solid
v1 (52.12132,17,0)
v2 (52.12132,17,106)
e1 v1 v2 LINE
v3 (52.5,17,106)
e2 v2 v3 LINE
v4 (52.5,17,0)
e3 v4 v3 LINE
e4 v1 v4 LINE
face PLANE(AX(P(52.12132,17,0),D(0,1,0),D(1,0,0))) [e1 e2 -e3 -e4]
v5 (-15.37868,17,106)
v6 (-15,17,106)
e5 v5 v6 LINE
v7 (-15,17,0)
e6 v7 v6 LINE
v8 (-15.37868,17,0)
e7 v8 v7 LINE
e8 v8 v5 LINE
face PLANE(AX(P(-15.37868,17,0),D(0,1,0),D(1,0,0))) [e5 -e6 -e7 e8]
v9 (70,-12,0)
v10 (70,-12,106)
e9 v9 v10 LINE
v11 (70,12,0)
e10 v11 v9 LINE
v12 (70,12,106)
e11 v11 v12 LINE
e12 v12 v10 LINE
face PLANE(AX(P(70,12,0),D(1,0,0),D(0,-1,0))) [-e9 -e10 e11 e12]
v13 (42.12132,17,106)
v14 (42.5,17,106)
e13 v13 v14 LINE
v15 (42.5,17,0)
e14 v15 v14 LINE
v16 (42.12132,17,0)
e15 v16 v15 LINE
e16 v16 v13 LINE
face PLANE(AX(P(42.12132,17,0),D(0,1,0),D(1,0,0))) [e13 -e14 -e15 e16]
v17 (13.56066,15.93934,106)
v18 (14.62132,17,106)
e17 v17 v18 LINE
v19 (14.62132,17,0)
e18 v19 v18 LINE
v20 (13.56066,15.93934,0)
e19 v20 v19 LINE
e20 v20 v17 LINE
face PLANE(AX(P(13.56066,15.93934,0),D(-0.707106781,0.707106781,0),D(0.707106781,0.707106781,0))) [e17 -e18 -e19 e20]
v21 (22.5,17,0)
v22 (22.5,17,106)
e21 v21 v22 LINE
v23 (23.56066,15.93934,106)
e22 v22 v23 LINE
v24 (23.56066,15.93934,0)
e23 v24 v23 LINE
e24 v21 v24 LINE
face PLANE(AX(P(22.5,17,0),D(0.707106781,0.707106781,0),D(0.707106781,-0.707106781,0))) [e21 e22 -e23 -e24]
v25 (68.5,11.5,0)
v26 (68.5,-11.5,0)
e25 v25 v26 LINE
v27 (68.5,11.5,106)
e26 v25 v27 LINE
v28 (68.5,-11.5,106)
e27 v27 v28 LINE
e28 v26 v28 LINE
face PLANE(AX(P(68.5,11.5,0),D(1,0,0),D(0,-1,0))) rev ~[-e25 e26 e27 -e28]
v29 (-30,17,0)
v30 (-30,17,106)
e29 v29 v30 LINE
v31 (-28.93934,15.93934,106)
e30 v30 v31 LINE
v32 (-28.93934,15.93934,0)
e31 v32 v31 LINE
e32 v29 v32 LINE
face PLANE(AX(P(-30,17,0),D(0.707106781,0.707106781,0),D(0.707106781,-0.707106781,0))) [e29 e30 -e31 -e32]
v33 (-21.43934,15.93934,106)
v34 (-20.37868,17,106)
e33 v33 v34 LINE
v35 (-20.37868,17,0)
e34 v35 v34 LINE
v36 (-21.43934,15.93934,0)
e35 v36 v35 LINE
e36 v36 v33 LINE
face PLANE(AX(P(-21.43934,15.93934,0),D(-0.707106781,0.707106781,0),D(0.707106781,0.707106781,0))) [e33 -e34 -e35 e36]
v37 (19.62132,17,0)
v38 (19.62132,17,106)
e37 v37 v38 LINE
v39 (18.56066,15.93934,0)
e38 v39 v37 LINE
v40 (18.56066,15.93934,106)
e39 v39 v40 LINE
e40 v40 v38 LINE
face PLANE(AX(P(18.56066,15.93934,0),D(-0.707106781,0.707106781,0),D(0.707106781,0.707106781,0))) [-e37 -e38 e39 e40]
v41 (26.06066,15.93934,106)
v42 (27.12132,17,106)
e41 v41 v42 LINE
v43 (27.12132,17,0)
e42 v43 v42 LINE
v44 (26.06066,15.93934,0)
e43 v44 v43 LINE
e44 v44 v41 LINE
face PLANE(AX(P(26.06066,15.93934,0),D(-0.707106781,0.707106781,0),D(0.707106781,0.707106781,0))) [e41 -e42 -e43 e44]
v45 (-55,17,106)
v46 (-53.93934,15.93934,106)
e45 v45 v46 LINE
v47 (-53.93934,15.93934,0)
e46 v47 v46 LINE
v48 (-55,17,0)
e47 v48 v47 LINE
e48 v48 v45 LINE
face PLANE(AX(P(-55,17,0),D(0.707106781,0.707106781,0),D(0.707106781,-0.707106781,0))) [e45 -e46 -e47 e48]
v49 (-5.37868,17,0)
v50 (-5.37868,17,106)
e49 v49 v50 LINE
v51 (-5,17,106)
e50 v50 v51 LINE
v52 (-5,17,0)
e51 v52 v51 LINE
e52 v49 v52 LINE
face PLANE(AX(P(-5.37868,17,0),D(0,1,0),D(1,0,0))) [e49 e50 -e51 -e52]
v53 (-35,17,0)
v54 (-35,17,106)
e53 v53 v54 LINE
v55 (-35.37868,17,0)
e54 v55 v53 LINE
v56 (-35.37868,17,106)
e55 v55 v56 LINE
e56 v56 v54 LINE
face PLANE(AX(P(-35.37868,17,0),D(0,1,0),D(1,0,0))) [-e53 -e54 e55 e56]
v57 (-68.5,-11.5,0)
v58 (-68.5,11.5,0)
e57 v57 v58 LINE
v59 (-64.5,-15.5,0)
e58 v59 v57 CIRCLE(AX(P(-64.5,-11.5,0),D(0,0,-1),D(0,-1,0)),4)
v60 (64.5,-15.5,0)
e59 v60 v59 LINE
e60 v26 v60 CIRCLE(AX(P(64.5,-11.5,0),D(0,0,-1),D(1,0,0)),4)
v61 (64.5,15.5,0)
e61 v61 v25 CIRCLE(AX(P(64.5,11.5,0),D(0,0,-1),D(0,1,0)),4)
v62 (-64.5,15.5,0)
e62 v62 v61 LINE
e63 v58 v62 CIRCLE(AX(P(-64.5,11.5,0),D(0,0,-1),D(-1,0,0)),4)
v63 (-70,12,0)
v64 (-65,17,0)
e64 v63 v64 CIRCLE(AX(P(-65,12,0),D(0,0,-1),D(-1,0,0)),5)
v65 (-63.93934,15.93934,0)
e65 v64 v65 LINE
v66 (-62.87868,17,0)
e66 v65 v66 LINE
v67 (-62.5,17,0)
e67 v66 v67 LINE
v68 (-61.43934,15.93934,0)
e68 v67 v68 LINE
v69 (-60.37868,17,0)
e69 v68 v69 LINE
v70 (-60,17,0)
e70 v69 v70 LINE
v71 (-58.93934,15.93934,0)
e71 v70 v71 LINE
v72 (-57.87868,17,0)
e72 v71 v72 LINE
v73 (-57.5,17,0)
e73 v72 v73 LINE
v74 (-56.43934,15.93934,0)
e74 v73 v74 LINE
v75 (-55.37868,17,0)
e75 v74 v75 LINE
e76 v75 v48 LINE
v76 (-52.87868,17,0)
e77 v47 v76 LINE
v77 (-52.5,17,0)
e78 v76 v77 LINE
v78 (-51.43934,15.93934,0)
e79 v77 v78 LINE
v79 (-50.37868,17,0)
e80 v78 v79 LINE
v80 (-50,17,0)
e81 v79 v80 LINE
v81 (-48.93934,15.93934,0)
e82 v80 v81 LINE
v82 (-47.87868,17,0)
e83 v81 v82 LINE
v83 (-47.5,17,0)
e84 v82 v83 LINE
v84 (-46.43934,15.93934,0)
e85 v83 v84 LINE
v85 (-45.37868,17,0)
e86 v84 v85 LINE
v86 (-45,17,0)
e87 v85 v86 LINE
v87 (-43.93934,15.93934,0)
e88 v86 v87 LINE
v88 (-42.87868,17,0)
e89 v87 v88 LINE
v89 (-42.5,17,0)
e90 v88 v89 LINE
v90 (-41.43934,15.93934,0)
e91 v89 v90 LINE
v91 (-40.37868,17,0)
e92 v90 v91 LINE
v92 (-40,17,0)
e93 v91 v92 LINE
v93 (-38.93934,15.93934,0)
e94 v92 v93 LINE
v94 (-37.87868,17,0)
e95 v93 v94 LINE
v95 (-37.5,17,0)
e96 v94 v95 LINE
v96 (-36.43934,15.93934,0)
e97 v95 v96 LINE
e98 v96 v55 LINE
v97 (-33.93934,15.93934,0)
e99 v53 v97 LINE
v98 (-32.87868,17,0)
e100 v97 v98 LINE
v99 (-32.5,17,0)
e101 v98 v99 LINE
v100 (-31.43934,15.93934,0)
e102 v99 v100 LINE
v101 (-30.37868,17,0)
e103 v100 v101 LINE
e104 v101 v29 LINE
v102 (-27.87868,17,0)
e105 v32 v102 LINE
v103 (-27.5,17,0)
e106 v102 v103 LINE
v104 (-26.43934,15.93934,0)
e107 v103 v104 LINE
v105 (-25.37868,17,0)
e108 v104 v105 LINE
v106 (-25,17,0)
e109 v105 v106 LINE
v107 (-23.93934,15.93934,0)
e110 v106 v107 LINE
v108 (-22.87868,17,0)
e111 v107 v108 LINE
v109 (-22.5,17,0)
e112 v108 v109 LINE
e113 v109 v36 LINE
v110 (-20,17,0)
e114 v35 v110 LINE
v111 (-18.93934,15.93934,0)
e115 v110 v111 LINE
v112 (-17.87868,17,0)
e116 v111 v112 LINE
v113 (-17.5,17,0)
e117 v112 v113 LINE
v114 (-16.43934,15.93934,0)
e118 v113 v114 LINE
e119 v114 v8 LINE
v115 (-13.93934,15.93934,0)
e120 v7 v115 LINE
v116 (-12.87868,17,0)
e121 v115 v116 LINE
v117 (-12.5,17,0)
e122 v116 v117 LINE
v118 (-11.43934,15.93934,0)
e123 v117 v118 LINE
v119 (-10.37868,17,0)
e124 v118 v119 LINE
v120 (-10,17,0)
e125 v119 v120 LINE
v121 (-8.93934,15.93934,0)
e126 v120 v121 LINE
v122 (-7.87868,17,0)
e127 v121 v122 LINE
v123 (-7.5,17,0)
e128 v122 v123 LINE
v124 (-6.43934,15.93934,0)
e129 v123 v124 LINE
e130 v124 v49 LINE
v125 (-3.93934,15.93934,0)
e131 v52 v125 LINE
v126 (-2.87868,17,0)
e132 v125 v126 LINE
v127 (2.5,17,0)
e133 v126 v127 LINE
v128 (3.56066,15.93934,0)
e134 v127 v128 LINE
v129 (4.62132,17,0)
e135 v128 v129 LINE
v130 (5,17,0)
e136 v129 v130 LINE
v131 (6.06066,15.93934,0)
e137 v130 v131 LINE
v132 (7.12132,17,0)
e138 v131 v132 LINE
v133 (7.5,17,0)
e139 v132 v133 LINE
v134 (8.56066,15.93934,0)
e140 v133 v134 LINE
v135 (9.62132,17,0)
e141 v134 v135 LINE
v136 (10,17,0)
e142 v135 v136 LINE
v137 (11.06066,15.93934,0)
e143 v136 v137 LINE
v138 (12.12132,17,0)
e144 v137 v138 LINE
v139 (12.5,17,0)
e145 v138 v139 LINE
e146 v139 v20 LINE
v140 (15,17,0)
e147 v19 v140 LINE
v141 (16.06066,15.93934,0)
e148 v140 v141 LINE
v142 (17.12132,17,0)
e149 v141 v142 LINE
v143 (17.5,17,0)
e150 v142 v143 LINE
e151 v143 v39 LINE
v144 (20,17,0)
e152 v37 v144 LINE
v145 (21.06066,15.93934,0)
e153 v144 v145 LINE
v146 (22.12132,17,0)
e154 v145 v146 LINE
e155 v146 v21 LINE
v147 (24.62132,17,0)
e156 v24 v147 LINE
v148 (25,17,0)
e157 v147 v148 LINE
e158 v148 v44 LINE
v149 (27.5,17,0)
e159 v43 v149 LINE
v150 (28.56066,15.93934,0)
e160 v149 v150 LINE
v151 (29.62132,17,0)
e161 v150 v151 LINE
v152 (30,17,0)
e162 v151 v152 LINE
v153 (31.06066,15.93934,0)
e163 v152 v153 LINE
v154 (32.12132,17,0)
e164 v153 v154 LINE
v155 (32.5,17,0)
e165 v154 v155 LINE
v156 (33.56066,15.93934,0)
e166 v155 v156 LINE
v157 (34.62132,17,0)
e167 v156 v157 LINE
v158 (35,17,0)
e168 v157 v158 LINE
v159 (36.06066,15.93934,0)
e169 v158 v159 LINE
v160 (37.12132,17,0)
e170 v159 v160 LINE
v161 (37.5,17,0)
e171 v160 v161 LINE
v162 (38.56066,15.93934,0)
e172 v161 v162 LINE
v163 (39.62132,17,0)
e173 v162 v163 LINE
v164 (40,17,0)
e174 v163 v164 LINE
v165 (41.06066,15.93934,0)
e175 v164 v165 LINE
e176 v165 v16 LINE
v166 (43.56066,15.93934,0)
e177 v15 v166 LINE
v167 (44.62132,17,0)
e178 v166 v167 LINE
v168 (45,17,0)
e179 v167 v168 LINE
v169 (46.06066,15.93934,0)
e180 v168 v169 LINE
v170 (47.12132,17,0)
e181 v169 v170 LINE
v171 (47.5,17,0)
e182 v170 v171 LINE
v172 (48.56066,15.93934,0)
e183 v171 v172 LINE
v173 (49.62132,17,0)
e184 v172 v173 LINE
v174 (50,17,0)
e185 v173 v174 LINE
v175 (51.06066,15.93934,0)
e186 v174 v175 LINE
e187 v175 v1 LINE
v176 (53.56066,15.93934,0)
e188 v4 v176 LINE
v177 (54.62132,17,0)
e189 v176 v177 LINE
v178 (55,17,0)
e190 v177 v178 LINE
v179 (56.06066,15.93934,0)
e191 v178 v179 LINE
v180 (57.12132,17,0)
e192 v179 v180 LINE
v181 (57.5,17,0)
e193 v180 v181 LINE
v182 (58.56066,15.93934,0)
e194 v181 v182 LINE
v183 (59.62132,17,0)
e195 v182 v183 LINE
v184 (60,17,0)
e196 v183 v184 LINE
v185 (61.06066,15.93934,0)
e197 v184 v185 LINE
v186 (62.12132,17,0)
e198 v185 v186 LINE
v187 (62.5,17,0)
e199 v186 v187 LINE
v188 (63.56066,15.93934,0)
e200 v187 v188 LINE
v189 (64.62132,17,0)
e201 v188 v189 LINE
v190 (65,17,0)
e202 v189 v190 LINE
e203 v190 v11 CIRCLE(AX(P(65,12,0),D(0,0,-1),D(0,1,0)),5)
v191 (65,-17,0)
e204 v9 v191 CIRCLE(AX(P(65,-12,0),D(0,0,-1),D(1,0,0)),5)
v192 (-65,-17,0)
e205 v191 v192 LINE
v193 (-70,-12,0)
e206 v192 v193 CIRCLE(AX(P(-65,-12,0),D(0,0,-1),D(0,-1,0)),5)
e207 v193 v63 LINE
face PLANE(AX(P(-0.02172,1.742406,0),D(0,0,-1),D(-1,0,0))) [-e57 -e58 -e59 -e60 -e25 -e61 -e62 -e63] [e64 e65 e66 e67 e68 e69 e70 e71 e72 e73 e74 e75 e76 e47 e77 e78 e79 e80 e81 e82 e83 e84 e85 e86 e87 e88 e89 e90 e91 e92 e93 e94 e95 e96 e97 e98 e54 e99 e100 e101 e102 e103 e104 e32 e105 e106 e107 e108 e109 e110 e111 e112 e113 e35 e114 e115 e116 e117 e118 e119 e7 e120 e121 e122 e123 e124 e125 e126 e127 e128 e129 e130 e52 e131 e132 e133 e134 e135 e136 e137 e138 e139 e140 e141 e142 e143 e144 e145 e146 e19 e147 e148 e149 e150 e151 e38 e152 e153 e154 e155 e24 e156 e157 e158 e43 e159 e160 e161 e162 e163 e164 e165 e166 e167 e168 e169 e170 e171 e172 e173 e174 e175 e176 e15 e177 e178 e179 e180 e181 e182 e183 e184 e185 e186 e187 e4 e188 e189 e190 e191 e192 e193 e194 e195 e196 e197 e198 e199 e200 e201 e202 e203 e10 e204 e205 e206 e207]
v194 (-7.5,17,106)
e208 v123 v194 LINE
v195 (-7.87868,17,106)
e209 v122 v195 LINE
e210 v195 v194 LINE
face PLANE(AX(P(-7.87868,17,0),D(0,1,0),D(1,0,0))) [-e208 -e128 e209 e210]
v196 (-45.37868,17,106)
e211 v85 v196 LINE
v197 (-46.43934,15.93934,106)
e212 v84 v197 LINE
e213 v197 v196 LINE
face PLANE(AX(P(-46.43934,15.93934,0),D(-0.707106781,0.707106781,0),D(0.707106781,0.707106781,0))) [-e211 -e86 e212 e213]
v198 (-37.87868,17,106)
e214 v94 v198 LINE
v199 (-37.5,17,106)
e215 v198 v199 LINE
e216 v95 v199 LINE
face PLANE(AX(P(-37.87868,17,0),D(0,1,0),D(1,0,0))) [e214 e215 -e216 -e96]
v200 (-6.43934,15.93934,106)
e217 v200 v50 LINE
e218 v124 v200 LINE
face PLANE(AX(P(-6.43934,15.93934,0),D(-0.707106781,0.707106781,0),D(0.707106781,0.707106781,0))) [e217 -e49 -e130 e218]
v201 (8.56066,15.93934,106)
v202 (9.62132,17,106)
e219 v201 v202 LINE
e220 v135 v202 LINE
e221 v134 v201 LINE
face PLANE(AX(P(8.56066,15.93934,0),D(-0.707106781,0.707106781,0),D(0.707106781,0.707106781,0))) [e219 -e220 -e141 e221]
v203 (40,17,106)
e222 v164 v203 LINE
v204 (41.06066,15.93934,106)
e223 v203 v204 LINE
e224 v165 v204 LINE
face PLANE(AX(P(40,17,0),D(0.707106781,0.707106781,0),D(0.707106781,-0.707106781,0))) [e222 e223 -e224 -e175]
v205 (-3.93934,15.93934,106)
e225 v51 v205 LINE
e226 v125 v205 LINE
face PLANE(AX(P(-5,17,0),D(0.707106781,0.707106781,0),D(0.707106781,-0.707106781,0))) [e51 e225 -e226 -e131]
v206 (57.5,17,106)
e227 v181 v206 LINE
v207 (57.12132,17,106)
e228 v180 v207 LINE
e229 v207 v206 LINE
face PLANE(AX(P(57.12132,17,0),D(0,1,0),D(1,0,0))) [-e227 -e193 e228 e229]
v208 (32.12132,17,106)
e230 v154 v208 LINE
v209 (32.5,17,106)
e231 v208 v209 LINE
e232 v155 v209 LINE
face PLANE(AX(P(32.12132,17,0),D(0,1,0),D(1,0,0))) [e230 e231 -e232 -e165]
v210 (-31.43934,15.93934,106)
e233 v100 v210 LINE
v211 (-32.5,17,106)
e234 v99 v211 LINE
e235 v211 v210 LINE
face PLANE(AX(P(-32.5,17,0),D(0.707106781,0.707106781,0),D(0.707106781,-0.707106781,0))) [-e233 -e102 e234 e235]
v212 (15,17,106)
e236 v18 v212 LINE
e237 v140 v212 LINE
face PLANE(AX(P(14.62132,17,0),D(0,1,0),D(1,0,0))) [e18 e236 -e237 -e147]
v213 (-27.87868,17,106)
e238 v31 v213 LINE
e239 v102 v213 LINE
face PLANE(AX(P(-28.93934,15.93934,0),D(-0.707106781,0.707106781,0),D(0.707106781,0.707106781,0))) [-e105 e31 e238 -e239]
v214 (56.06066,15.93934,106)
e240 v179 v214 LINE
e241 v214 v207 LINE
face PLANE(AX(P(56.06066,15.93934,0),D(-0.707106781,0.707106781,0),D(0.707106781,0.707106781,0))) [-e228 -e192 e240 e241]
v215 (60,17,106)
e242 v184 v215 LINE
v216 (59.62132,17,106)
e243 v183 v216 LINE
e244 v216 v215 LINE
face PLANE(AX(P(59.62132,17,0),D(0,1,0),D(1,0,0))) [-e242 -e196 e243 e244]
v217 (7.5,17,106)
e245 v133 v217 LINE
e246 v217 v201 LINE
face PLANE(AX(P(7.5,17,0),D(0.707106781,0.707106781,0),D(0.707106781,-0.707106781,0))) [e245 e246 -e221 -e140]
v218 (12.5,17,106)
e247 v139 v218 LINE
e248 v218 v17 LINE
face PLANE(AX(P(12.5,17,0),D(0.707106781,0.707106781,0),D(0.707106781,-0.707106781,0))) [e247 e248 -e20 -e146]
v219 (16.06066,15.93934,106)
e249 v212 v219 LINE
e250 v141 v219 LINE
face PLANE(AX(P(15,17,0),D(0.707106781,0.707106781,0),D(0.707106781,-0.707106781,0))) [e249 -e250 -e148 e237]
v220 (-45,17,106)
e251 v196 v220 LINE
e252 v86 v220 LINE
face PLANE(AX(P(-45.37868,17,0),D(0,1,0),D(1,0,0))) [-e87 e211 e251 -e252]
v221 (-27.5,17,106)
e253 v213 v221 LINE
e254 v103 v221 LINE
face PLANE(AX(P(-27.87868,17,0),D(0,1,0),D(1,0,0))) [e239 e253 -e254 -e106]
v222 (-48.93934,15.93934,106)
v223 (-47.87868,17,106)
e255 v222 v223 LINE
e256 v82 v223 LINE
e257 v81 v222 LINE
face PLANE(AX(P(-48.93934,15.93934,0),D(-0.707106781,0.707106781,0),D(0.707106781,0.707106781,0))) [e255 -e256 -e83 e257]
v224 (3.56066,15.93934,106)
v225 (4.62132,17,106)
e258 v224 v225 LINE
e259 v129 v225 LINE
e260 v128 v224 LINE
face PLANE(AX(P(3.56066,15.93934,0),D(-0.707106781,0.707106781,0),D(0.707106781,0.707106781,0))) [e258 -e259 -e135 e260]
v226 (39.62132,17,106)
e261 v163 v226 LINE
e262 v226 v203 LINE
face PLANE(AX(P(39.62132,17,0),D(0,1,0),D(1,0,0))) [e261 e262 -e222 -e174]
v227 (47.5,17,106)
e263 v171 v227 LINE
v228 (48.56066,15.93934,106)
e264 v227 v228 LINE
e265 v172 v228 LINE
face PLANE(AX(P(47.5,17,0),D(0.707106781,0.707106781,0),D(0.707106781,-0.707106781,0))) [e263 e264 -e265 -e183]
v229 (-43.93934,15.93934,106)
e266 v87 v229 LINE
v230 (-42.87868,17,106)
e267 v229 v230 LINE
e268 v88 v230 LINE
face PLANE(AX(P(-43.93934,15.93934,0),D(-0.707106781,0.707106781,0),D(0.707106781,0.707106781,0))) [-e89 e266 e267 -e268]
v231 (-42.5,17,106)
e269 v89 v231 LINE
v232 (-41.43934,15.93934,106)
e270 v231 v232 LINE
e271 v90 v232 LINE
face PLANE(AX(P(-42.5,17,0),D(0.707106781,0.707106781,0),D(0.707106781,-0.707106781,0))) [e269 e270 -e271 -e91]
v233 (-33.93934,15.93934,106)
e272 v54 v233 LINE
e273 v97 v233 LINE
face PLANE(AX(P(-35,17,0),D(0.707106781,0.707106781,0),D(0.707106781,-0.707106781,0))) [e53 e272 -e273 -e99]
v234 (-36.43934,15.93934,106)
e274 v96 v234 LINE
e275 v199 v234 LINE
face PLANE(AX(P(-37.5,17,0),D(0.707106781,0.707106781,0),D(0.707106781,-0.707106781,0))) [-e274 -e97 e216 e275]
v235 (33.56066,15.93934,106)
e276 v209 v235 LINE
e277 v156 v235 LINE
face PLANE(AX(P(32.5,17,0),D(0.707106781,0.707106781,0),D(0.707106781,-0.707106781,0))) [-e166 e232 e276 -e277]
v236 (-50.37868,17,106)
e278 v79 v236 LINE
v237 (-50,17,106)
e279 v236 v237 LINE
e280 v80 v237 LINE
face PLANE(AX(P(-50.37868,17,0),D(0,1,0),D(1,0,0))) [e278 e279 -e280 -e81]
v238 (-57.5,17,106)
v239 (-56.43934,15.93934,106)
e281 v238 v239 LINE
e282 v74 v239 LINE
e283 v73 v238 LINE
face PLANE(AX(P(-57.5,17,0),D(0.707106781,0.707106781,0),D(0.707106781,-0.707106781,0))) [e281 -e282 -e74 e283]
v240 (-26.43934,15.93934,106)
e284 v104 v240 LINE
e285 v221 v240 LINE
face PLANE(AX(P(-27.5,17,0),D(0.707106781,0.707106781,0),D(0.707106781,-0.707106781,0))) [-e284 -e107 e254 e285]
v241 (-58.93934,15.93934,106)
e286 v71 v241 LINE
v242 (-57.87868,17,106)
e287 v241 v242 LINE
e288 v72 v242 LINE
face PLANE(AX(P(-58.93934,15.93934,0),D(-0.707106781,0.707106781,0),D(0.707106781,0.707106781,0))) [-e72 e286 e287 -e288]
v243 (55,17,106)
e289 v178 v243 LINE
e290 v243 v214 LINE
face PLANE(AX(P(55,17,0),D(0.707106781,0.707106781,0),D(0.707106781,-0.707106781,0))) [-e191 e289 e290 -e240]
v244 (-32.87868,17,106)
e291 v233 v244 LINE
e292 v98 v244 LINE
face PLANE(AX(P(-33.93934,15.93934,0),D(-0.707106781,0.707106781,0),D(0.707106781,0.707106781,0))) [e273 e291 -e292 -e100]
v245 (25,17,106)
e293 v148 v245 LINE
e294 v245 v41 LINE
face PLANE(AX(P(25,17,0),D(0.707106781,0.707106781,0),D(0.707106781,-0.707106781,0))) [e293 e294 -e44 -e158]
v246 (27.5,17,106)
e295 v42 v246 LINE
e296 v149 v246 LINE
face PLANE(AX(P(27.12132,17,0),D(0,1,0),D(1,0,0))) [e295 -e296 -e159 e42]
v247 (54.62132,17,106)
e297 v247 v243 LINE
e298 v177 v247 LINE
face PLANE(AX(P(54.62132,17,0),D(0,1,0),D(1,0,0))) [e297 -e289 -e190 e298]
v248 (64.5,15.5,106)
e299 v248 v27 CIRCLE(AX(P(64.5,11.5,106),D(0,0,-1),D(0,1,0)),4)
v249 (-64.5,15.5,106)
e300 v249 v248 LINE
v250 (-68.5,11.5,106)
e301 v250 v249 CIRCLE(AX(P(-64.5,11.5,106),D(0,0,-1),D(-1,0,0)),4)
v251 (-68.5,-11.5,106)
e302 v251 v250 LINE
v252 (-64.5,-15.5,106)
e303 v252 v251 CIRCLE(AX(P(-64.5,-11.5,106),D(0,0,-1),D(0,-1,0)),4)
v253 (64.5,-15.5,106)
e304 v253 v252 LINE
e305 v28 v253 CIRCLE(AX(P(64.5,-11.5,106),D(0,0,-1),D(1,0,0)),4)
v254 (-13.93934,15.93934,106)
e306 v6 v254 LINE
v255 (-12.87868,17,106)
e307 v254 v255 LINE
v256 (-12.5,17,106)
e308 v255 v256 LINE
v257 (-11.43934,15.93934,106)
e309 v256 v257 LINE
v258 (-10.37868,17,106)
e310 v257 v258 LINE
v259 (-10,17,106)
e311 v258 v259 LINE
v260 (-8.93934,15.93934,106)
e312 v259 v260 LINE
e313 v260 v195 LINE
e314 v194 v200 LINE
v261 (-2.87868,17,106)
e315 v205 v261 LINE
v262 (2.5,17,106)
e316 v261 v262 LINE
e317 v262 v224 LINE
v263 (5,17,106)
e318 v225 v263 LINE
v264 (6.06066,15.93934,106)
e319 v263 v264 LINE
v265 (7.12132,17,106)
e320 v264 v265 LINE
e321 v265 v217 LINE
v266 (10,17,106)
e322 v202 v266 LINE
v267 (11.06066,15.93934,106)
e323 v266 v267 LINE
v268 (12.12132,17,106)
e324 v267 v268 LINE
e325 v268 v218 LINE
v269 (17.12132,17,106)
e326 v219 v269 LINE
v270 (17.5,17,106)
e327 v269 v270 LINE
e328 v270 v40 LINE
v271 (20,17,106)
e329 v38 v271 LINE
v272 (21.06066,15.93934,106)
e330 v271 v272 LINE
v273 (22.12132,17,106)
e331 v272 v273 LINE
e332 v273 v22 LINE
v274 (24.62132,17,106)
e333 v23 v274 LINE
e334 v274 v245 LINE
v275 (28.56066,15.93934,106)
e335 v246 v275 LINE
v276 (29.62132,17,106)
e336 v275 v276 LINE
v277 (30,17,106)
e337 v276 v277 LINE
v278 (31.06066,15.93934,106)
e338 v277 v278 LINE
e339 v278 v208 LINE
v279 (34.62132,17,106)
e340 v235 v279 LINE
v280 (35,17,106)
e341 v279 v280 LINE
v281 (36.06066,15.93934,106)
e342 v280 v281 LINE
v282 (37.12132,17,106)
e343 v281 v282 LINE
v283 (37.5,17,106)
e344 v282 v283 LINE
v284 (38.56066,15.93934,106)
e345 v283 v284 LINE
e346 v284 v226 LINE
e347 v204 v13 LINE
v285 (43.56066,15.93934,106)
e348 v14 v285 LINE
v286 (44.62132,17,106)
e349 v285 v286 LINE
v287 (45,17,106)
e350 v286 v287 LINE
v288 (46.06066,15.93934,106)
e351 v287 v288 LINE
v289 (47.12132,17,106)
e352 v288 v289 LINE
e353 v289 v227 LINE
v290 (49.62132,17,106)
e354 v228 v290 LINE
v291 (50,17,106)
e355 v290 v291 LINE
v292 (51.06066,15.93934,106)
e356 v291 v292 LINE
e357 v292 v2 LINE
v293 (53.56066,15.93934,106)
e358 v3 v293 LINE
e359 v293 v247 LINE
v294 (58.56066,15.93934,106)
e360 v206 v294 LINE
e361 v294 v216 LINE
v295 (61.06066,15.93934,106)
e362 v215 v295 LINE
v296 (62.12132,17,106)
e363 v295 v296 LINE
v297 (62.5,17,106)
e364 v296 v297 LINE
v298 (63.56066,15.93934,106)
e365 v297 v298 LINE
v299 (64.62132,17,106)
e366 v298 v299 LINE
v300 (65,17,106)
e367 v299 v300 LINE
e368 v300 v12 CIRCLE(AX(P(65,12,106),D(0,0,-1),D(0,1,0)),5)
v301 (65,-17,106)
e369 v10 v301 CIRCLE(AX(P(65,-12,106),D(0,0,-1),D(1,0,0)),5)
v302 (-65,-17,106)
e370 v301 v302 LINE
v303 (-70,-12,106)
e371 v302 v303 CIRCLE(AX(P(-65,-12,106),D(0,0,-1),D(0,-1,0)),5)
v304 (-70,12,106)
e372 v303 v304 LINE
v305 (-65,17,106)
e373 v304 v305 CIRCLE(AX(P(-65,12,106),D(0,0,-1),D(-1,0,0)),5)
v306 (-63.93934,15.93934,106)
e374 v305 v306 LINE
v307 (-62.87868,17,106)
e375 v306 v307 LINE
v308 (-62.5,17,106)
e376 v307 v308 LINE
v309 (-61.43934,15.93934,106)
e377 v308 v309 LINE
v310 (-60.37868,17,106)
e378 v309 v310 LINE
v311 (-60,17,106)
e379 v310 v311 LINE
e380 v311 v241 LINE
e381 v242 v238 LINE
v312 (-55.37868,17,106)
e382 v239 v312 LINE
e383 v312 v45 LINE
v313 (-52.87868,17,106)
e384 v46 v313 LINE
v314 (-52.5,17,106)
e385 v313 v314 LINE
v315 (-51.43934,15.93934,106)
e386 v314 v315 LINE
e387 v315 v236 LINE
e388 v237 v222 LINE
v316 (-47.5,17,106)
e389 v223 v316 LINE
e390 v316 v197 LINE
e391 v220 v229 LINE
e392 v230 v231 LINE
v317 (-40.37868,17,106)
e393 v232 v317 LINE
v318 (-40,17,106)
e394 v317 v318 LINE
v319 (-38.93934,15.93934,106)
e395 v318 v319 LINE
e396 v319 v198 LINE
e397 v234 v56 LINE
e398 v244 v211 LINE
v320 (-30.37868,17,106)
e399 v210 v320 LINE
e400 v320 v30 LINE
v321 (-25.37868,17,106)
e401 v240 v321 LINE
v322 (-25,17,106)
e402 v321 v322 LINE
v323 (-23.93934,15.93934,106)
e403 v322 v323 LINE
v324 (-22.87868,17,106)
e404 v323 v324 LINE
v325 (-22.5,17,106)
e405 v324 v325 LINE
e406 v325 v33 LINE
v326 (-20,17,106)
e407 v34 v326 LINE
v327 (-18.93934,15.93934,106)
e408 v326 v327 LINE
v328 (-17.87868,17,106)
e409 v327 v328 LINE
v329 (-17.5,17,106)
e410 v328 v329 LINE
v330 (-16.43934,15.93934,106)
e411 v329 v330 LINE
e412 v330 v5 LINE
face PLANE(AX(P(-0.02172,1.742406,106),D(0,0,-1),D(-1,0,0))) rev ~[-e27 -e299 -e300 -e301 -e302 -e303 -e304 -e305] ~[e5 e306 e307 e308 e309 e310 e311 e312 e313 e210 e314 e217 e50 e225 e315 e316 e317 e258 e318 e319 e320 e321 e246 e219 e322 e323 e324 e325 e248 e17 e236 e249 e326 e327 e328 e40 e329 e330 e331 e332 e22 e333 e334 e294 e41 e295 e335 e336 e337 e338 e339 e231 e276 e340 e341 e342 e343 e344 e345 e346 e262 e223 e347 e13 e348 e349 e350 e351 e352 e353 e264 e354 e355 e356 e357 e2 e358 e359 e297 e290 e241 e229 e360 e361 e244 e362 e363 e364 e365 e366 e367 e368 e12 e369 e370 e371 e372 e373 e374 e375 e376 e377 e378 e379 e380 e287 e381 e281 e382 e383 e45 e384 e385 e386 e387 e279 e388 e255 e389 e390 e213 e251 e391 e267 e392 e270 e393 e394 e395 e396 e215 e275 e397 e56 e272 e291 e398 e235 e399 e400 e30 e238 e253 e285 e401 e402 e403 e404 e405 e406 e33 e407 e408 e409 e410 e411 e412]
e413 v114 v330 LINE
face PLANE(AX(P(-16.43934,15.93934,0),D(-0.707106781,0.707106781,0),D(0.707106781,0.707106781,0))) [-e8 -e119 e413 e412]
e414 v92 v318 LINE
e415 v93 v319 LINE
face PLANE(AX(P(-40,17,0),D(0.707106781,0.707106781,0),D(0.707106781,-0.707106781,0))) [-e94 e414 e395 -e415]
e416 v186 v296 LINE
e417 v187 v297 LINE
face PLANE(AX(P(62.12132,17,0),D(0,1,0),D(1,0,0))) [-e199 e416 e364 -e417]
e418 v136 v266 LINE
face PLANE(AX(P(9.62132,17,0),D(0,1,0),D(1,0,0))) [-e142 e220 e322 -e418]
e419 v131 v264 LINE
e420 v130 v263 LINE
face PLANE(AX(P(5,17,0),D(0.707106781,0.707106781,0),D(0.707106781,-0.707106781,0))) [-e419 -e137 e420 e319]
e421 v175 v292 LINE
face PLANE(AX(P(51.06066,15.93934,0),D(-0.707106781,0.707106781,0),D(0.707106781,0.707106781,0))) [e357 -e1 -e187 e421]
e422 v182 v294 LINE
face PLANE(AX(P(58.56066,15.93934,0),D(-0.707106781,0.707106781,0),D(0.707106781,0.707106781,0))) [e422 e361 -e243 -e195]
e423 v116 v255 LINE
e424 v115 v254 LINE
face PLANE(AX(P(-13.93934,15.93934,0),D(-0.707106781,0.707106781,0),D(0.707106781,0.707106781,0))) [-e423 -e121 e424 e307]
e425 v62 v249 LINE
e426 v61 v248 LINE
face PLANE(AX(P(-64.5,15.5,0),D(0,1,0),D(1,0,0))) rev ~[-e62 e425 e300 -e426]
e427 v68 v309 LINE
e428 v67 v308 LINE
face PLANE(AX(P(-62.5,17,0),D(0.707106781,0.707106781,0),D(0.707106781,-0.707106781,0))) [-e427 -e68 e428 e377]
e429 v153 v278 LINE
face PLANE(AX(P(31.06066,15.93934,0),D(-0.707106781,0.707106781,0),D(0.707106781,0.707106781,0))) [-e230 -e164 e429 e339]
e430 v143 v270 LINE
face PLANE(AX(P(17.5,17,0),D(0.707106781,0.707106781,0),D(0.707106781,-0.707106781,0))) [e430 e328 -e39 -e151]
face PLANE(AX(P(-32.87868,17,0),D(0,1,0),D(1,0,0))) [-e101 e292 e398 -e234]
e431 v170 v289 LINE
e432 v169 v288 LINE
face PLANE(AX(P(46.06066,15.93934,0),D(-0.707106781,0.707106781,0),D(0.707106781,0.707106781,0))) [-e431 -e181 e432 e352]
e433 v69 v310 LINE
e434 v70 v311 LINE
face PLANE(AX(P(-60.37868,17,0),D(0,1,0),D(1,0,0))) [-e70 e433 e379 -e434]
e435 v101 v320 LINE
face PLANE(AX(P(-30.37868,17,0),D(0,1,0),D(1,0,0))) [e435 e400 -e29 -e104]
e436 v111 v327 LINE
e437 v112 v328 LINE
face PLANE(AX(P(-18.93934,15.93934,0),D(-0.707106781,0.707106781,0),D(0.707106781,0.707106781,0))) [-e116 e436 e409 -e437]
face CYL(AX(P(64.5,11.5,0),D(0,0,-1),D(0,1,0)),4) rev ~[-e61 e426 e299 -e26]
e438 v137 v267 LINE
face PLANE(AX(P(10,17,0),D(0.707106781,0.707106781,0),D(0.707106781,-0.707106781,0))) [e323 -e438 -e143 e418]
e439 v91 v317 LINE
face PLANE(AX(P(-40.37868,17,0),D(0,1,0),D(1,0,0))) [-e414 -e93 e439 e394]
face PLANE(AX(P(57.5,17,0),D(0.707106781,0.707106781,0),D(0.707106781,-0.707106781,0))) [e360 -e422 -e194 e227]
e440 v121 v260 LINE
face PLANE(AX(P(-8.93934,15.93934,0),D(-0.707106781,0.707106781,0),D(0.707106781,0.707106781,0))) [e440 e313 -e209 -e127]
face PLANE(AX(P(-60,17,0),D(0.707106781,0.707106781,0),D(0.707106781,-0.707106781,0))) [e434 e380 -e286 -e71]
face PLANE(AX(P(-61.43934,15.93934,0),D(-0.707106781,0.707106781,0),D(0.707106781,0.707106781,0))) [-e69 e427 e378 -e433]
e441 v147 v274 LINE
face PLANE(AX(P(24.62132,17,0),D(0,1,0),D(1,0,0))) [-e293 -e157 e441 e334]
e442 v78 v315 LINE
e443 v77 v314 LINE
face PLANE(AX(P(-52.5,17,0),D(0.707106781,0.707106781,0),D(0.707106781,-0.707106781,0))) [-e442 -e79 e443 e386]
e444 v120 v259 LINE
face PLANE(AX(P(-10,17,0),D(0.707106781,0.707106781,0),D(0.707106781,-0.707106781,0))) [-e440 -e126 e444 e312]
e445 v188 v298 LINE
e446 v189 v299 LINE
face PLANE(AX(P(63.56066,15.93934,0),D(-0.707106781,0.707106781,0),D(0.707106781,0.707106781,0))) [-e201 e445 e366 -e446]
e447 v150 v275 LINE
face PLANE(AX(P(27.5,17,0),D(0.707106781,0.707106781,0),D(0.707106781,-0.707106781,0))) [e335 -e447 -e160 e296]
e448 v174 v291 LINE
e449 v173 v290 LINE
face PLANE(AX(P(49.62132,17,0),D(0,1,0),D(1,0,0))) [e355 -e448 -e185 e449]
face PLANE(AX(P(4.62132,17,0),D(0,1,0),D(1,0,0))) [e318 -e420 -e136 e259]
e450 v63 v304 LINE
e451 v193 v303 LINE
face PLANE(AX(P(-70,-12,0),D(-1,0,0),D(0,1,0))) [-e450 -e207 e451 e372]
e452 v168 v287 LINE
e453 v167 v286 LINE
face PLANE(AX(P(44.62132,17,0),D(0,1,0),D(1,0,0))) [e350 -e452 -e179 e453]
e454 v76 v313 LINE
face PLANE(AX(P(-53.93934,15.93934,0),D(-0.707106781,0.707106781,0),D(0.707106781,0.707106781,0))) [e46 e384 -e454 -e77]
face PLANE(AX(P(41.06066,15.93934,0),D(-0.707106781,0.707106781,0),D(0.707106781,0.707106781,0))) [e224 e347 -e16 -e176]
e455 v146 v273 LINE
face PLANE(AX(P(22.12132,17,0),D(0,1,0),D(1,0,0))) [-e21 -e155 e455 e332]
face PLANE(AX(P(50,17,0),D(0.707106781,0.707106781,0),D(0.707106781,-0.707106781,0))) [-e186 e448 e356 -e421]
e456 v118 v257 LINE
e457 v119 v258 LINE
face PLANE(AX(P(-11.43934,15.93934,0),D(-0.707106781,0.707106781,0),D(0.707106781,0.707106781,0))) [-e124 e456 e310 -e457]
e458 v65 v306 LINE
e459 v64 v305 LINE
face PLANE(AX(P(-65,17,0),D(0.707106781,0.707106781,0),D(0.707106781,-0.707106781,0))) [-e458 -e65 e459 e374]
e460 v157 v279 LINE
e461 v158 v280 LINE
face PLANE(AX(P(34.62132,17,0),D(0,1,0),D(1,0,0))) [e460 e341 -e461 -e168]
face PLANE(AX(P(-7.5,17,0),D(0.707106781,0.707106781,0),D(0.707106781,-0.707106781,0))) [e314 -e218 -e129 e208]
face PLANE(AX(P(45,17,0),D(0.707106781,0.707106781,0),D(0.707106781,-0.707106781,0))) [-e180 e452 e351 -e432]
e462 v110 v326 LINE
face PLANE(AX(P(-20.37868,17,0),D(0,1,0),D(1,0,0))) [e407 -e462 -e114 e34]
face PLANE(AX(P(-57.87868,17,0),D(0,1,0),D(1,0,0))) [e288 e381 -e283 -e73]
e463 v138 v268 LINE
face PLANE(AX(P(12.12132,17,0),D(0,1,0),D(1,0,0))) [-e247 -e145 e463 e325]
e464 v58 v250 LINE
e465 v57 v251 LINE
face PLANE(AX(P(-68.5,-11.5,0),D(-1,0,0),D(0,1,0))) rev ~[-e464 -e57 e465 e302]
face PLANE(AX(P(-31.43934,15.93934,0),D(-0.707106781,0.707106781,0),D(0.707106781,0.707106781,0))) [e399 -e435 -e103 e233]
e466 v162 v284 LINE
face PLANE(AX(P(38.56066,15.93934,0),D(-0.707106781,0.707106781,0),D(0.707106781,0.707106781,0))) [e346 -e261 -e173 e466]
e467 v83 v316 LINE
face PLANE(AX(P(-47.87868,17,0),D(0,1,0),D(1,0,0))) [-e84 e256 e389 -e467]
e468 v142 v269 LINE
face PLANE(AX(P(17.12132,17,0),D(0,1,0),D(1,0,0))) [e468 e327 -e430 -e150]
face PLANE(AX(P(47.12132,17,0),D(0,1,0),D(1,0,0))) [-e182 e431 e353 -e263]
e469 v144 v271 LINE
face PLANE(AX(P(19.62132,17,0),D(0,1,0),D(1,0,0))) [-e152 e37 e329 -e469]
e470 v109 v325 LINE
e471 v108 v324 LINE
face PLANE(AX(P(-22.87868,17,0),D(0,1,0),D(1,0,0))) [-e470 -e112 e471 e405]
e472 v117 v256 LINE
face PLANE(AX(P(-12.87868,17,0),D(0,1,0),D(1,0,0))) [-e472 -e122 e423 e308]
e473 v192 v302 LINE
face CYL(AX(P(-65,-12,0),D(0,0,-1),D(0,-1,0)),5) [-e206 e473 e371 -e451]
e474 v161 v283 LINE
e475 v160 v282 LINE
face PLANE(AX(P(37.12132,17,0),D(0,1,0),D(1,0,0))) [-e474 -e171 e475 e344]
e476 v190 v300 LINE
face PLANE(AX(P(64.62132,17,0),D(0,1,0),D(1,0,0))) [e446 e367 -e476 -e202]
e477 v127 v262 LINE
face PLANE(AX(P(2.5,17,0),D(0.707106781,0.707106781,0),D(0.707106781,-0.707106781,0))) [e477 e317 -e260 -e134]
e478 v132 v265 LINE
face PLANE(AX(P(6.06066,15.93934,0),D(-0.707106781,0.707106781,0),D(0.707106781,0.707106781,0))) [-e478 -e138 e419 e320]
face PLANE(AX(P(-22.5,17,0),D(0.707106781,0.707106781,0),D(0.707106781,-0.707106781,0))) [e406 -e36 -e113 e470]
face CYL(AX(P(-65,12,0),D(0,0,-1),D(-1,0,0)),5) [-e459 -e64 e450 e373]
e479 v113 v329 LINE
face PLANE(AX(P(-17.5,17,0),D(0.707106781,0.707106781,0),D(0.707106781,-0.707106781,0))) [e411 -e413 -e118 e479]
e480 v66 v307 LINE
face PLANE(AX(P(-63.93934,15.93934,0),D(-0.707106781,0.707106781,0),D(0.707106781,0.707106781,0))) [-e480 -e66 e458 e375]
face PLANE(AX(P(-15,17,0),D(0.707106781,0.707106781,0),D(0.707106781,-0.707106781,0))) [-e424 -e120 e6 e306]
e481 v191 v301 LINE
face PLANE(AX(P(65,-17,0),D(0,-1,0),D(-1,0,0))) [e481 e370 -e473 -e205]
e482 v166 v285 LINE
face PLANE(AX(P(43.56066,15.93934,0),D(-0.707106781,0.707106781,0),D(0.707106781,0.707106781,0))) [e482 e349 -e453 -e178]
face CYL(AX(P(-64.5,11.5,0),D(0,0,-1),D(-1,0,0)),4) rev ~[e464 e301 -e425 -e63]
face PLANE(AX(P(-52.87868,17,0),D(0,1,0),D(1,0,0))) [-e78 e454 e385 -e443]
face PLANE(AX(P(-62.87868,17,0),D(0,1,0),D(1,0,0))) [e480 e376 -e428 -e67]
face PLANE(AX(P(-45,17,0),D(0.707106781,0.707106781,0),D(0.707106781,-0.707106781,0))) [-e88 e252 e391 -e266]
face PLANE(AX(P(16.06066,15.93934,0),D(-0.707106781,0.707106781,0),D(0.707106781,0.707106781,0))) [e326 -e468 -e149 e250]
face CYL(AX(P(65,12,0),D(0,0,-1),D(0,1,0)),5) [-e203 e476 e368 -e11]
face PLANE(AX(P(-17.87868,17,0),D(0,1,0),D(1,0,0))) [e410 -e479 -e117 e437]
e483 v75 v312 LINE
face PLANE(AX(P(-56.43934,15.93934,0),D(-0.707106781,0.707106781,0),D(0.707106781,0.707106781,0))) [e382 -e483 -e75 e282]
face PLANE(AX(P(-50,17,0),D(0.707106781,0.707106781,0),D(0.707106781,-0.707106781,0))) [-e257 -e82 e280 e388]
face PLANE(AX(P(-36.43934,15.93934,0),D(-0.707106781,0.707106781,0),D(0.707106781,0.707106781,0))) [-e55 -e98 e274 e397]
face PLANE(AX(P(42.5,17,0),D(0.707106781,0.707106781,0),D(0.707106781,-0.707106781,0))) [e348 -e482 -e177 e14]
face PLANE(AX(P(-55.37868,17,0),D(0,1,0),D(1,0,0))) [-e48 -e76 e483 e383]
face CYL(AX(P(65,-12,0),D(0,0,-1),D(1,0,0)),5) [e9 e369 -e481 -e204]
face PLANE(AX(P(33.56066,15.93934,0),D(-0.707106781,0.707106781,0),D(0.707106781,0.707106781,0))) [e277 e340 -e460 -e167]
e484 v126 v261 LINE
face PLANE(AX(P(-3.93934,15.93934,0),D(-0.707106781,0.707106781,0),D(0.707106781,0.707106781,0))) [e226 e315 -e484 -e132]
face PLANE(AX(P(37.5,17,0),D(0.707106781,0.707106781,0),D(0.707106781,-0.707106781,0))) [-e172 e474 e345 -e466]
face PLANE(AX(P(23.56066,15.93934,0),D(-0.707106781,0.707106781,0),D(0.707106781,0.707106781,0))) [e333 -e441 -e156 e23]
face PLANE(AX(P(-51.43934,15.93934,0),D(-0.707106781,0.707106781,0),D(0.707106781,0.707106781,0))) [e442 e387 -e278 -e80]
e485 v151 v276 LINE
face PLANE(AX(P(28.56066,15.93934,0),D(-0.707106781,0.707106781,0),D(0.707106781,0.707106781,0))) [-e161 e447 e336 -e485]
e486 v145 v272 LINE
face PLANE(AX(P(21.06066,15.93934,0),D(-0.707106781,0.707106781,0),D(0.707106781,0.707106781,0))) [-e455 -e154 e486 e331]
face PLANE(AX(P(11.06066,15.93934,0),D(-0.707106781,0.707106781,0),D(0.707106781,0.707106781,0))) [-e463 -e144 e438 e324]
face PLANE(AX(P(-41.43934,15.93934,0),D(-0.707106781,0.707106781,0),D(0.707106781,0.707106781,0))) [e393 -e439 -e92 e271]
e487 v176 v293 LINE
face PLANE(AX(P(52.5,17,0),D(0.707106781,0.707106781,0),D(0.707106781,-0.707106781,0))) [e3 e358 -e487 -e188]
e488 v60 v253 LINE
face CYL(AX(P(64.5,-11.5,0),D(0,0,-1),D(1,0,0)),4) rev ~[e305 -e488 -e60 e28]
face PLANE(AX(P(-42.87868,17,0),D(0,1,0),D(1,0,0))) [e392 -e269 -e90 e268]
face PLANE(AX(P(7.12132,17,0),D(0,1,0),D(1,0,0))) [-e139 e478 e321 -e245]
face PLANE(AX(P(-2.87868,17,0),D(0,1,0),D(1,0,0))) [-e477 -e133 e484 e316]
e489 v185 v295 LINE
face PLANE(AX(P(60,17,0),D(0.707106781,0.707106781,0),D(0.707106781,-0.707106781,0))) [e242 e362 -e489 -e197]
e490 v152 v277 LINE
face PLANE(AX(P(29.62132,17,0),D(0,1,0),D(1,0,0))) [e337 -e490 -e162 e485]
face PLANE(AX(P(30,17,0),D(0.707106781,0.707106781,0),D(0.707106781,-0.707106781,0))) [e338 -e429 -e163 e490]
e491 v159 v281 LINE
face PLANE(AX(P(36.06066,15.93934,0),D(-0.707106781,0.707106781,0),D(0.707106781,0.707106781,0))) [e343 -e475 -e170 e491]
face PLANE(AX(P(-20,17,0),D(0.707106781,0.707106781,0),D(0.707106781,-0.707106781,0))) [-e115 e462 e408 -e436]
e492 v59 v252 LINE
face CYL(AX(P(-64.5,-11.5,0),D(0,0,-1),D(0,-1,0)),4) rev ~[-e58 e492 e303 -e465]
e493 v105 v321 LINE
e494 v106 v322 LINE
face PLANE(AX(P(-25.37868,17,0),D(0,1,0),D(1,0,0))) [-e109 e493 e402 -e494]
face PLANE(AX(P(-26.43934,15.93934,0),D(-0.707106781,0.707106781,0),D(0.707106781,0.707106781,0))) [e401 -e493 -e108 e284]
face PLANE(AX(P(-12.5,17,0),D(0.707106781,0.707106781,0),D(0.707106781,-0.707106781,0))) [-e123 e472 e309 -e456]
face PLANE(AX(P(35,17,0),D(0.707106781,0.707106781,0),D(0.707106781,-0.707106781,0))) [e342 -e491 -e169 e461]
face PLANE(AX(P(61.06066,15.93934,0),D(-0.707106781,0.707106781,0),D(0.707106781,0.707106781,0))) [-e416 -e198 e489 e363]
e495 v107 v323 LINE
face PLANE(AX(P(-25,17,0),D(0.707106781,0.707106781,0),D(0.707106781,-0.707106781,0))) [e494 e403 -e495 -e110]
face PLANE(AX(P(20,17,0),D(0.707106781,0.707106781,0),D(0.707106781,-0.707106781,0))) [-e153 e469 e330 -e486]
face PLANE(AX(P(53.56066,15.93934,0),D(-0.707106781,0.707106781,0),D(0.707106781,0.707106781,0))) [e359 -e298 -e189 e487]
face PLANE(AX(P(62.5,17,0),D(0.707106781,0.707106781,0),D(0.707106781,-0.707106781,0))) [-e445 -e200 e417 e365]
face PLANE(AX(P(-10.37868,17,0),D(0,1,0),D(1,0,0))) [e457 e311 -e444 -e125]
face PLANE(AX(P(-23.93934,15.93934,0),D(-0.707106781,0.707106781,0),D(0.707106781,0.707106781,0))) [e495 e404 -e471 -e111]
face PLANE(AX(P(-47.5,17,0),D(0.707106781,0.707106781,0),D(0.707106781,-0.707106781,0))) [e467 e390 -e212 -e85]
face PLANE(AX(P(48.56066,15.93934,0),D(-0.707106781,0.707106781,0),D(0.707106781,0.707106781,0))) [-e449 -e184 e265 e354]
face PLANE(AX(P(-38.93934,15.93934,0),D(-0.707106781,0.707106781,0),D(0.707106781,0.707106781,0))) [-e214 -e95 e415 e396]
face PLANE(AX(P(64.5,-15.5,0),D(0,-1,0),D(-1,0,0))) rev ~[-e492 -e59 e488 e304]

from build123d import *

# Parameters (mm, degrees)
BOSS_EXTRUDE1_DEPTH = 106


with BuildPart() as part:
    # Sketch1 → Boss-Extrude1 (new body)
    with BuildSketch(Plane.XY):
        with BuildLine():
            Line((-65, 17), (-63.939339828, 15.939339828))
            Line((-63.939339828, 15.939339828), (-62.878679656, 17))
            Line((-62.878679656, 17), (-62.5, 17))
            Line((-62.5, 17), (-61.439339828, 15.939339828))
            Line((-61.439339828, 15.939339828), (-60.378679656, 17))
            Line((-60.378679656, 17), (-60, 17))
            Line((-60, 17), (-58.939339828, 15.939339828))
            Line((-58.939339828, 15.939339828), (-57.878679656, 17))
            Line((-57.878679656, 17), (-57.5, 17))
            Line((-57.5, 17), (-56.439339828, 15.939339828))
            Line((-56.439339828, 15.939339828), (-55.378679656, 17))
            Line((-55.378679656, 17), (-55, 17))
            Line((-55, 17), (-53.939339828, 15.939339828))
            Line((-53.939339828, 15.939339828), (-52.878679656, 17))
            Line((-52.878679656, 17), (-52.5, 17))
            Line((-52.5, 17), (-51.439339828, 15.939339828))
            Line((-51.439339828, 15.939339828), (-50.378679656, 17))
            Line((-50.378679656, 17), (-50, 17))
            Line((-50, 17), (-48.939339828, 15.939339828))
            Line((-48.939339828, 15.939339828), (-47.878679656, 17))
            Line((-47.878679656, 17), (-47.5, 17))
            Line((-47.5, 17), (-46.439339828, 15.939339828))
            Line((-46.439339828, 15.939339828), (-45.378679656, 17))
            Line((-45.378679656, 17), (-45, 17))
            Line((-45, 17), (-43.939339828, 15.939339828))
            Line((-43.939339828, 15.939339828), (-42.878679656, 17))
            Line((-42.878679656, 17), (-42.5, 17))
            Line((-42.5, 17), (-41.439339828, 15.939339828))
            Line((-41.439339828, 15.939339828), (-40.378679656, 17))
            Line((-40.378679656, 17), (-40, 17))
            Line((-40, 17), (-38.939339828, 15.939339828))
            Line((-38.939339828, 15.939339828), (-37.878679656, 17))
            Line((-37.878679656, 17), (-37.5, 17))
            Line((-37.5, 17), (-36.439339828, 15.939339828))
            Line((-36.439339828, 15.939339828), (-35.378679656, 17))
            Line((-35.378679656, 17), (-35, 17))
            Line((-35, 17), (-33.939339828, 15.939339828))
            Line((-33.939339828, 15.939339828), (-32.878679656, 17))
            Line((-32.878679656, 17), (-32.5, 17))
            Line((-32.5, 17), (-31.439339828, 15.939339828))
            Line((-31.439339828, 15.939339828), (-30.378679656, 17))
            Line((-30.378679656, 17), (-30, 17))
            Line((-30, 17), (-28.939339828, 15.939339828))
            Line((-28.939339828, 15.939339828), (-27.878679656, 17))
            Line((-27.878679656, 17), (-27.5, 17))
            Line((-27.5, 17), (-26.439339828, 15.939339828))
            Line((-26.439339828, 15.939339828), (-25.378679656, 17))
            Line((-25.378679656, 17), (-25, 17))
            Line((-25, 17), (-23.939339828, 15.939339828))
            Line((-23.939339828, 15.939339828), (-22.878679656, 17))
            Line((-22.878679656, 17), (-22.5, 17))
            Line((-22.5, 17), (-21.439339828, 15.939339828))
            Line((-21.439339828, 15.939339828), (-20.378679656, 17))
            Line((-20.378679656, 17), (-20, 17))
            Line((-20, 17), (-18.939339828, 15.939339828))
            Line((-18.939339828, 15.939339828), (-17.878679656, 17))
            Line((-17.878679656, 17), (-17.5, 17))
            Line((-17.5, 17), (-16.439339828, 15.939339828))
            Line((-16.439339828, 15.939339828), (-15.378679656, 17))
            Line((-15.378679656, 17), (-15, 17))
            Line((-15, 17), (-13.939339828, 15.939339828))
            Line((-13.939339828, 15.939339828), (-12.878679656, 17))
            Line((-12.878679656, 17), (-12.5, 17))
            Line((-12.5, 17), (-11.439339828, 15.939339828))
            Line((-11.439339828, 15.939339828), (-10.378679656, 17))
            Line((-10.378679656, 17), (-10, 17))
            Line((-10, 17), (-8.939339828, 15.939339828))
            Line((-8.939339828, 15.939339828), (-7.878679656, 17))
            Line((-7.878679656, 17), (-7.5, 17))
            Line((-7.5, 17), (-6.439339828, 15.939339828))
            Line((-6.439339828, 15.939339828), (-5.378679656, 17))
            Line((-5.378679656, 17), (-5, 17))
            Line((-5, 17), (-3.939339828, 15.939339828))
            Line((-3.939339828, 15.939339828), (-2.878679656, 17))
            Line((-2.878679656, 17), (2.5, 17))
            Line((2.5, 17), (3.560660172, 15.939339828))
            Line((3.560660172, 15.939339828), (4.621320344, 17))
            Line((4.621320344, 17), (5, 17))
            Line((5, 17), (6.060660172, 15.939339828))
            Line((6.060660172, 15.939339828), (7.121320344, 17))
            Line((7.121320344, 17), (7.5, 17))
            Line((7.5, 17), (8.560660172, 15.939339828))
            Line((8.560660172, 15.939339828), (9.621320344, 17))
            Line((9.621320344, 17), (10, 17))
            Line((10, 17), (11.060660172, 15.939339828))
            Line((11.060660172, 15.939339828), (12.121320344, 17))
            Line((12.121320344, 17), (12.5, 17))
            Line((12.5, 17), (13.560660172, 15.939339828))
            Line((13.560660172, 15.939339828), (14.621320344, 17))
            Line((14.621320344, 17), (15, 17))
            Line((15, 17), (16.060660172, 15.939339828))
            Line((16.060660172, 15.939339828), (17.121320344, 17))
            Line((17.121320344, 17), (17.5, 17))
            Line((17.5, 17), (18.560660172, 15.939339828))
            Line((18.560660172, 15.939339828), (19.621320344, 17))
            Line((19.621320344, 17), (20, 17))
            Line((20, 17), (21.060660172, 15.939339828))
            Line((21.060660172, 15.939339828), (22.121320344, 17))
            Line((22.121320344, 17), (22.5, 17))
            Line((22.5, 17), (23.560660172, 15.939339828))
            Line((23.560660172, 15.939339828), (24.621320344, 17))
            Line((24.621320344, 17), (25, 17))
            Line((25, 17), (26.060660172, 15.939339828))
            Line((26.060660172, 15.939339828), (27.121320344, 17))
            Line((27.121320344, 17), (27.5, 17))
            Line((27.5, 17), (28.560660172, 15.939339828))
            Line((28.560660172, 15.939339828), (29.621320344, 17))
            Line((29.621320344, 17), (30, 17))
            Line((30, 17), (31.060660172, 15.939339828))
            Line((31.060660172, 15.939339828), (32.121320344, 17))
            Line((32.121320344, 17), (32.5, 17))
            Line((32.5, 17), (33.560660172, 15.939339828))
            Line((33.560660172, 15.939339828), (34.621320344, 17))
            Line((34.621320344, 17), (35, 17))
            Line((35, 17), (36.060660172, 15.939339828))
            Line((36.060660172, 15.939339828), (37.121320344, 17))
            Line((37.121320344, 17), (37.5, 17))
            Line((37.5, 17), (38.560660172, 15.939339828))
            Line((38.560660172, 15.939339828), (39.621320344, 17))
            Line((39.621320344, 17), (40, 17))
            Line((40, 17), (41.060660172, 15.939339828))
            Line((41.060660172, 15.939339828), (42.121320344, 17))
            Line((42.121320344, 17), (42.5, 17))
            Line((42.5, 17), (43.560660172, 15.939339828))
            Line((43.560660172, 15.939339828), (44.621320344, 17))
            Line((44.621320344, 17), (45, 17))
            Line((45, 17), (46.060660172, 15.939339828))
            Line((46.060660172, 15.939339828), (47.121320344, 17))
            Line((47.121320344, 17), (47.5, 17))
            Line((47.5, 17), (48.560660172, 15.939339828))
            Line((48.560660172, 15.939339828), (49.621320344, 17))
            Line((49.621320344, 17), (50, 17))
            Line((50, 17), (51.060660172, 15.939339828))
            Line((51.060660172, 15.939339828), (52.121320344, 17))
            Line((52.121320344, 17), (52.5, 17))
            Line((52.5, 17), (53.560660172, 15.939339828))
            Line((53.560660172, 15.939339828), (54.621320344, 17))
            Line((54.621320344, 17), (55, 17))
            Line((55, 17), (56.060660172, 15.939339828))
            Line((56.060660172, 15.939339828), (57.121320344, 17))
            Line((57.121320344, 17), (57.5, 17))
            Line((57.5, 17), (58.560660172, 15.939339828))
            Line((58.560660172, 15.939339828), (59.621320344, 17))
            Line((59.621320344, 17), (60, 17))
            Line((60, 17), (61.060660172, 15.939339828))
            Line((61.060660172, 15.939339828), (62.121320344, 17))
            Line((62.121320344, 17), (62.5, 17))
            Line((62.5, 17), (63.560660172, 15.939339828))
            Line((63.560660172, 15.939339828), (64.621320344, 17))
            Line((64.621320344, 17), (65, 17))
            ThreePointArc((65, 17), (68.535533906, 15.535533906), (70, 12))
            Line((70, 12), (70, -12))
            ThreePointArc((70, -12), (68.535533906, -15.535533906), (65, -17))
            Line((65, -17), (-65, -17))
            ThreePointArc((-65, -17), (-68.535533906, -15.535533906), (-70, -12))
            Line((-70, -12), (-70, 12))
            ThreePointArc((-70, 12), (-68.535533906, 15.535533906), (-65, 17))
        make_face()
        with BuildLine():
            Line((-64.5, 15.5), (64.5, 15.5))
            ThreePointArc((64.5, 15.5), (67.328427125, 14.328427125), (68.5, 11.5))
            Line((68.5, 11.5), (68.5, -11.5))
            ThreePointArc((68.5, -11.5), (67.328427125, -14.328427125), (64.5, -15.5))
            Line((64.5, -15.5), (-64.5, -15.5))
            ThreePointArc((-64.5, -15.5), (-67.328427125, -14.328427125), (-68.5, -11.5))
            Line((-68.5, -11.5), (-68.5, 11.5))
            ThreePointArc((-68.5, 11.5), (-67.328427125, 14.328427125), (-64.5, 15.5))
        make_face(mode=Mode.SUBTRACT)
    extrude(amount=BOSS_EXTRUDE1_DEPTH)


solid = part.part
